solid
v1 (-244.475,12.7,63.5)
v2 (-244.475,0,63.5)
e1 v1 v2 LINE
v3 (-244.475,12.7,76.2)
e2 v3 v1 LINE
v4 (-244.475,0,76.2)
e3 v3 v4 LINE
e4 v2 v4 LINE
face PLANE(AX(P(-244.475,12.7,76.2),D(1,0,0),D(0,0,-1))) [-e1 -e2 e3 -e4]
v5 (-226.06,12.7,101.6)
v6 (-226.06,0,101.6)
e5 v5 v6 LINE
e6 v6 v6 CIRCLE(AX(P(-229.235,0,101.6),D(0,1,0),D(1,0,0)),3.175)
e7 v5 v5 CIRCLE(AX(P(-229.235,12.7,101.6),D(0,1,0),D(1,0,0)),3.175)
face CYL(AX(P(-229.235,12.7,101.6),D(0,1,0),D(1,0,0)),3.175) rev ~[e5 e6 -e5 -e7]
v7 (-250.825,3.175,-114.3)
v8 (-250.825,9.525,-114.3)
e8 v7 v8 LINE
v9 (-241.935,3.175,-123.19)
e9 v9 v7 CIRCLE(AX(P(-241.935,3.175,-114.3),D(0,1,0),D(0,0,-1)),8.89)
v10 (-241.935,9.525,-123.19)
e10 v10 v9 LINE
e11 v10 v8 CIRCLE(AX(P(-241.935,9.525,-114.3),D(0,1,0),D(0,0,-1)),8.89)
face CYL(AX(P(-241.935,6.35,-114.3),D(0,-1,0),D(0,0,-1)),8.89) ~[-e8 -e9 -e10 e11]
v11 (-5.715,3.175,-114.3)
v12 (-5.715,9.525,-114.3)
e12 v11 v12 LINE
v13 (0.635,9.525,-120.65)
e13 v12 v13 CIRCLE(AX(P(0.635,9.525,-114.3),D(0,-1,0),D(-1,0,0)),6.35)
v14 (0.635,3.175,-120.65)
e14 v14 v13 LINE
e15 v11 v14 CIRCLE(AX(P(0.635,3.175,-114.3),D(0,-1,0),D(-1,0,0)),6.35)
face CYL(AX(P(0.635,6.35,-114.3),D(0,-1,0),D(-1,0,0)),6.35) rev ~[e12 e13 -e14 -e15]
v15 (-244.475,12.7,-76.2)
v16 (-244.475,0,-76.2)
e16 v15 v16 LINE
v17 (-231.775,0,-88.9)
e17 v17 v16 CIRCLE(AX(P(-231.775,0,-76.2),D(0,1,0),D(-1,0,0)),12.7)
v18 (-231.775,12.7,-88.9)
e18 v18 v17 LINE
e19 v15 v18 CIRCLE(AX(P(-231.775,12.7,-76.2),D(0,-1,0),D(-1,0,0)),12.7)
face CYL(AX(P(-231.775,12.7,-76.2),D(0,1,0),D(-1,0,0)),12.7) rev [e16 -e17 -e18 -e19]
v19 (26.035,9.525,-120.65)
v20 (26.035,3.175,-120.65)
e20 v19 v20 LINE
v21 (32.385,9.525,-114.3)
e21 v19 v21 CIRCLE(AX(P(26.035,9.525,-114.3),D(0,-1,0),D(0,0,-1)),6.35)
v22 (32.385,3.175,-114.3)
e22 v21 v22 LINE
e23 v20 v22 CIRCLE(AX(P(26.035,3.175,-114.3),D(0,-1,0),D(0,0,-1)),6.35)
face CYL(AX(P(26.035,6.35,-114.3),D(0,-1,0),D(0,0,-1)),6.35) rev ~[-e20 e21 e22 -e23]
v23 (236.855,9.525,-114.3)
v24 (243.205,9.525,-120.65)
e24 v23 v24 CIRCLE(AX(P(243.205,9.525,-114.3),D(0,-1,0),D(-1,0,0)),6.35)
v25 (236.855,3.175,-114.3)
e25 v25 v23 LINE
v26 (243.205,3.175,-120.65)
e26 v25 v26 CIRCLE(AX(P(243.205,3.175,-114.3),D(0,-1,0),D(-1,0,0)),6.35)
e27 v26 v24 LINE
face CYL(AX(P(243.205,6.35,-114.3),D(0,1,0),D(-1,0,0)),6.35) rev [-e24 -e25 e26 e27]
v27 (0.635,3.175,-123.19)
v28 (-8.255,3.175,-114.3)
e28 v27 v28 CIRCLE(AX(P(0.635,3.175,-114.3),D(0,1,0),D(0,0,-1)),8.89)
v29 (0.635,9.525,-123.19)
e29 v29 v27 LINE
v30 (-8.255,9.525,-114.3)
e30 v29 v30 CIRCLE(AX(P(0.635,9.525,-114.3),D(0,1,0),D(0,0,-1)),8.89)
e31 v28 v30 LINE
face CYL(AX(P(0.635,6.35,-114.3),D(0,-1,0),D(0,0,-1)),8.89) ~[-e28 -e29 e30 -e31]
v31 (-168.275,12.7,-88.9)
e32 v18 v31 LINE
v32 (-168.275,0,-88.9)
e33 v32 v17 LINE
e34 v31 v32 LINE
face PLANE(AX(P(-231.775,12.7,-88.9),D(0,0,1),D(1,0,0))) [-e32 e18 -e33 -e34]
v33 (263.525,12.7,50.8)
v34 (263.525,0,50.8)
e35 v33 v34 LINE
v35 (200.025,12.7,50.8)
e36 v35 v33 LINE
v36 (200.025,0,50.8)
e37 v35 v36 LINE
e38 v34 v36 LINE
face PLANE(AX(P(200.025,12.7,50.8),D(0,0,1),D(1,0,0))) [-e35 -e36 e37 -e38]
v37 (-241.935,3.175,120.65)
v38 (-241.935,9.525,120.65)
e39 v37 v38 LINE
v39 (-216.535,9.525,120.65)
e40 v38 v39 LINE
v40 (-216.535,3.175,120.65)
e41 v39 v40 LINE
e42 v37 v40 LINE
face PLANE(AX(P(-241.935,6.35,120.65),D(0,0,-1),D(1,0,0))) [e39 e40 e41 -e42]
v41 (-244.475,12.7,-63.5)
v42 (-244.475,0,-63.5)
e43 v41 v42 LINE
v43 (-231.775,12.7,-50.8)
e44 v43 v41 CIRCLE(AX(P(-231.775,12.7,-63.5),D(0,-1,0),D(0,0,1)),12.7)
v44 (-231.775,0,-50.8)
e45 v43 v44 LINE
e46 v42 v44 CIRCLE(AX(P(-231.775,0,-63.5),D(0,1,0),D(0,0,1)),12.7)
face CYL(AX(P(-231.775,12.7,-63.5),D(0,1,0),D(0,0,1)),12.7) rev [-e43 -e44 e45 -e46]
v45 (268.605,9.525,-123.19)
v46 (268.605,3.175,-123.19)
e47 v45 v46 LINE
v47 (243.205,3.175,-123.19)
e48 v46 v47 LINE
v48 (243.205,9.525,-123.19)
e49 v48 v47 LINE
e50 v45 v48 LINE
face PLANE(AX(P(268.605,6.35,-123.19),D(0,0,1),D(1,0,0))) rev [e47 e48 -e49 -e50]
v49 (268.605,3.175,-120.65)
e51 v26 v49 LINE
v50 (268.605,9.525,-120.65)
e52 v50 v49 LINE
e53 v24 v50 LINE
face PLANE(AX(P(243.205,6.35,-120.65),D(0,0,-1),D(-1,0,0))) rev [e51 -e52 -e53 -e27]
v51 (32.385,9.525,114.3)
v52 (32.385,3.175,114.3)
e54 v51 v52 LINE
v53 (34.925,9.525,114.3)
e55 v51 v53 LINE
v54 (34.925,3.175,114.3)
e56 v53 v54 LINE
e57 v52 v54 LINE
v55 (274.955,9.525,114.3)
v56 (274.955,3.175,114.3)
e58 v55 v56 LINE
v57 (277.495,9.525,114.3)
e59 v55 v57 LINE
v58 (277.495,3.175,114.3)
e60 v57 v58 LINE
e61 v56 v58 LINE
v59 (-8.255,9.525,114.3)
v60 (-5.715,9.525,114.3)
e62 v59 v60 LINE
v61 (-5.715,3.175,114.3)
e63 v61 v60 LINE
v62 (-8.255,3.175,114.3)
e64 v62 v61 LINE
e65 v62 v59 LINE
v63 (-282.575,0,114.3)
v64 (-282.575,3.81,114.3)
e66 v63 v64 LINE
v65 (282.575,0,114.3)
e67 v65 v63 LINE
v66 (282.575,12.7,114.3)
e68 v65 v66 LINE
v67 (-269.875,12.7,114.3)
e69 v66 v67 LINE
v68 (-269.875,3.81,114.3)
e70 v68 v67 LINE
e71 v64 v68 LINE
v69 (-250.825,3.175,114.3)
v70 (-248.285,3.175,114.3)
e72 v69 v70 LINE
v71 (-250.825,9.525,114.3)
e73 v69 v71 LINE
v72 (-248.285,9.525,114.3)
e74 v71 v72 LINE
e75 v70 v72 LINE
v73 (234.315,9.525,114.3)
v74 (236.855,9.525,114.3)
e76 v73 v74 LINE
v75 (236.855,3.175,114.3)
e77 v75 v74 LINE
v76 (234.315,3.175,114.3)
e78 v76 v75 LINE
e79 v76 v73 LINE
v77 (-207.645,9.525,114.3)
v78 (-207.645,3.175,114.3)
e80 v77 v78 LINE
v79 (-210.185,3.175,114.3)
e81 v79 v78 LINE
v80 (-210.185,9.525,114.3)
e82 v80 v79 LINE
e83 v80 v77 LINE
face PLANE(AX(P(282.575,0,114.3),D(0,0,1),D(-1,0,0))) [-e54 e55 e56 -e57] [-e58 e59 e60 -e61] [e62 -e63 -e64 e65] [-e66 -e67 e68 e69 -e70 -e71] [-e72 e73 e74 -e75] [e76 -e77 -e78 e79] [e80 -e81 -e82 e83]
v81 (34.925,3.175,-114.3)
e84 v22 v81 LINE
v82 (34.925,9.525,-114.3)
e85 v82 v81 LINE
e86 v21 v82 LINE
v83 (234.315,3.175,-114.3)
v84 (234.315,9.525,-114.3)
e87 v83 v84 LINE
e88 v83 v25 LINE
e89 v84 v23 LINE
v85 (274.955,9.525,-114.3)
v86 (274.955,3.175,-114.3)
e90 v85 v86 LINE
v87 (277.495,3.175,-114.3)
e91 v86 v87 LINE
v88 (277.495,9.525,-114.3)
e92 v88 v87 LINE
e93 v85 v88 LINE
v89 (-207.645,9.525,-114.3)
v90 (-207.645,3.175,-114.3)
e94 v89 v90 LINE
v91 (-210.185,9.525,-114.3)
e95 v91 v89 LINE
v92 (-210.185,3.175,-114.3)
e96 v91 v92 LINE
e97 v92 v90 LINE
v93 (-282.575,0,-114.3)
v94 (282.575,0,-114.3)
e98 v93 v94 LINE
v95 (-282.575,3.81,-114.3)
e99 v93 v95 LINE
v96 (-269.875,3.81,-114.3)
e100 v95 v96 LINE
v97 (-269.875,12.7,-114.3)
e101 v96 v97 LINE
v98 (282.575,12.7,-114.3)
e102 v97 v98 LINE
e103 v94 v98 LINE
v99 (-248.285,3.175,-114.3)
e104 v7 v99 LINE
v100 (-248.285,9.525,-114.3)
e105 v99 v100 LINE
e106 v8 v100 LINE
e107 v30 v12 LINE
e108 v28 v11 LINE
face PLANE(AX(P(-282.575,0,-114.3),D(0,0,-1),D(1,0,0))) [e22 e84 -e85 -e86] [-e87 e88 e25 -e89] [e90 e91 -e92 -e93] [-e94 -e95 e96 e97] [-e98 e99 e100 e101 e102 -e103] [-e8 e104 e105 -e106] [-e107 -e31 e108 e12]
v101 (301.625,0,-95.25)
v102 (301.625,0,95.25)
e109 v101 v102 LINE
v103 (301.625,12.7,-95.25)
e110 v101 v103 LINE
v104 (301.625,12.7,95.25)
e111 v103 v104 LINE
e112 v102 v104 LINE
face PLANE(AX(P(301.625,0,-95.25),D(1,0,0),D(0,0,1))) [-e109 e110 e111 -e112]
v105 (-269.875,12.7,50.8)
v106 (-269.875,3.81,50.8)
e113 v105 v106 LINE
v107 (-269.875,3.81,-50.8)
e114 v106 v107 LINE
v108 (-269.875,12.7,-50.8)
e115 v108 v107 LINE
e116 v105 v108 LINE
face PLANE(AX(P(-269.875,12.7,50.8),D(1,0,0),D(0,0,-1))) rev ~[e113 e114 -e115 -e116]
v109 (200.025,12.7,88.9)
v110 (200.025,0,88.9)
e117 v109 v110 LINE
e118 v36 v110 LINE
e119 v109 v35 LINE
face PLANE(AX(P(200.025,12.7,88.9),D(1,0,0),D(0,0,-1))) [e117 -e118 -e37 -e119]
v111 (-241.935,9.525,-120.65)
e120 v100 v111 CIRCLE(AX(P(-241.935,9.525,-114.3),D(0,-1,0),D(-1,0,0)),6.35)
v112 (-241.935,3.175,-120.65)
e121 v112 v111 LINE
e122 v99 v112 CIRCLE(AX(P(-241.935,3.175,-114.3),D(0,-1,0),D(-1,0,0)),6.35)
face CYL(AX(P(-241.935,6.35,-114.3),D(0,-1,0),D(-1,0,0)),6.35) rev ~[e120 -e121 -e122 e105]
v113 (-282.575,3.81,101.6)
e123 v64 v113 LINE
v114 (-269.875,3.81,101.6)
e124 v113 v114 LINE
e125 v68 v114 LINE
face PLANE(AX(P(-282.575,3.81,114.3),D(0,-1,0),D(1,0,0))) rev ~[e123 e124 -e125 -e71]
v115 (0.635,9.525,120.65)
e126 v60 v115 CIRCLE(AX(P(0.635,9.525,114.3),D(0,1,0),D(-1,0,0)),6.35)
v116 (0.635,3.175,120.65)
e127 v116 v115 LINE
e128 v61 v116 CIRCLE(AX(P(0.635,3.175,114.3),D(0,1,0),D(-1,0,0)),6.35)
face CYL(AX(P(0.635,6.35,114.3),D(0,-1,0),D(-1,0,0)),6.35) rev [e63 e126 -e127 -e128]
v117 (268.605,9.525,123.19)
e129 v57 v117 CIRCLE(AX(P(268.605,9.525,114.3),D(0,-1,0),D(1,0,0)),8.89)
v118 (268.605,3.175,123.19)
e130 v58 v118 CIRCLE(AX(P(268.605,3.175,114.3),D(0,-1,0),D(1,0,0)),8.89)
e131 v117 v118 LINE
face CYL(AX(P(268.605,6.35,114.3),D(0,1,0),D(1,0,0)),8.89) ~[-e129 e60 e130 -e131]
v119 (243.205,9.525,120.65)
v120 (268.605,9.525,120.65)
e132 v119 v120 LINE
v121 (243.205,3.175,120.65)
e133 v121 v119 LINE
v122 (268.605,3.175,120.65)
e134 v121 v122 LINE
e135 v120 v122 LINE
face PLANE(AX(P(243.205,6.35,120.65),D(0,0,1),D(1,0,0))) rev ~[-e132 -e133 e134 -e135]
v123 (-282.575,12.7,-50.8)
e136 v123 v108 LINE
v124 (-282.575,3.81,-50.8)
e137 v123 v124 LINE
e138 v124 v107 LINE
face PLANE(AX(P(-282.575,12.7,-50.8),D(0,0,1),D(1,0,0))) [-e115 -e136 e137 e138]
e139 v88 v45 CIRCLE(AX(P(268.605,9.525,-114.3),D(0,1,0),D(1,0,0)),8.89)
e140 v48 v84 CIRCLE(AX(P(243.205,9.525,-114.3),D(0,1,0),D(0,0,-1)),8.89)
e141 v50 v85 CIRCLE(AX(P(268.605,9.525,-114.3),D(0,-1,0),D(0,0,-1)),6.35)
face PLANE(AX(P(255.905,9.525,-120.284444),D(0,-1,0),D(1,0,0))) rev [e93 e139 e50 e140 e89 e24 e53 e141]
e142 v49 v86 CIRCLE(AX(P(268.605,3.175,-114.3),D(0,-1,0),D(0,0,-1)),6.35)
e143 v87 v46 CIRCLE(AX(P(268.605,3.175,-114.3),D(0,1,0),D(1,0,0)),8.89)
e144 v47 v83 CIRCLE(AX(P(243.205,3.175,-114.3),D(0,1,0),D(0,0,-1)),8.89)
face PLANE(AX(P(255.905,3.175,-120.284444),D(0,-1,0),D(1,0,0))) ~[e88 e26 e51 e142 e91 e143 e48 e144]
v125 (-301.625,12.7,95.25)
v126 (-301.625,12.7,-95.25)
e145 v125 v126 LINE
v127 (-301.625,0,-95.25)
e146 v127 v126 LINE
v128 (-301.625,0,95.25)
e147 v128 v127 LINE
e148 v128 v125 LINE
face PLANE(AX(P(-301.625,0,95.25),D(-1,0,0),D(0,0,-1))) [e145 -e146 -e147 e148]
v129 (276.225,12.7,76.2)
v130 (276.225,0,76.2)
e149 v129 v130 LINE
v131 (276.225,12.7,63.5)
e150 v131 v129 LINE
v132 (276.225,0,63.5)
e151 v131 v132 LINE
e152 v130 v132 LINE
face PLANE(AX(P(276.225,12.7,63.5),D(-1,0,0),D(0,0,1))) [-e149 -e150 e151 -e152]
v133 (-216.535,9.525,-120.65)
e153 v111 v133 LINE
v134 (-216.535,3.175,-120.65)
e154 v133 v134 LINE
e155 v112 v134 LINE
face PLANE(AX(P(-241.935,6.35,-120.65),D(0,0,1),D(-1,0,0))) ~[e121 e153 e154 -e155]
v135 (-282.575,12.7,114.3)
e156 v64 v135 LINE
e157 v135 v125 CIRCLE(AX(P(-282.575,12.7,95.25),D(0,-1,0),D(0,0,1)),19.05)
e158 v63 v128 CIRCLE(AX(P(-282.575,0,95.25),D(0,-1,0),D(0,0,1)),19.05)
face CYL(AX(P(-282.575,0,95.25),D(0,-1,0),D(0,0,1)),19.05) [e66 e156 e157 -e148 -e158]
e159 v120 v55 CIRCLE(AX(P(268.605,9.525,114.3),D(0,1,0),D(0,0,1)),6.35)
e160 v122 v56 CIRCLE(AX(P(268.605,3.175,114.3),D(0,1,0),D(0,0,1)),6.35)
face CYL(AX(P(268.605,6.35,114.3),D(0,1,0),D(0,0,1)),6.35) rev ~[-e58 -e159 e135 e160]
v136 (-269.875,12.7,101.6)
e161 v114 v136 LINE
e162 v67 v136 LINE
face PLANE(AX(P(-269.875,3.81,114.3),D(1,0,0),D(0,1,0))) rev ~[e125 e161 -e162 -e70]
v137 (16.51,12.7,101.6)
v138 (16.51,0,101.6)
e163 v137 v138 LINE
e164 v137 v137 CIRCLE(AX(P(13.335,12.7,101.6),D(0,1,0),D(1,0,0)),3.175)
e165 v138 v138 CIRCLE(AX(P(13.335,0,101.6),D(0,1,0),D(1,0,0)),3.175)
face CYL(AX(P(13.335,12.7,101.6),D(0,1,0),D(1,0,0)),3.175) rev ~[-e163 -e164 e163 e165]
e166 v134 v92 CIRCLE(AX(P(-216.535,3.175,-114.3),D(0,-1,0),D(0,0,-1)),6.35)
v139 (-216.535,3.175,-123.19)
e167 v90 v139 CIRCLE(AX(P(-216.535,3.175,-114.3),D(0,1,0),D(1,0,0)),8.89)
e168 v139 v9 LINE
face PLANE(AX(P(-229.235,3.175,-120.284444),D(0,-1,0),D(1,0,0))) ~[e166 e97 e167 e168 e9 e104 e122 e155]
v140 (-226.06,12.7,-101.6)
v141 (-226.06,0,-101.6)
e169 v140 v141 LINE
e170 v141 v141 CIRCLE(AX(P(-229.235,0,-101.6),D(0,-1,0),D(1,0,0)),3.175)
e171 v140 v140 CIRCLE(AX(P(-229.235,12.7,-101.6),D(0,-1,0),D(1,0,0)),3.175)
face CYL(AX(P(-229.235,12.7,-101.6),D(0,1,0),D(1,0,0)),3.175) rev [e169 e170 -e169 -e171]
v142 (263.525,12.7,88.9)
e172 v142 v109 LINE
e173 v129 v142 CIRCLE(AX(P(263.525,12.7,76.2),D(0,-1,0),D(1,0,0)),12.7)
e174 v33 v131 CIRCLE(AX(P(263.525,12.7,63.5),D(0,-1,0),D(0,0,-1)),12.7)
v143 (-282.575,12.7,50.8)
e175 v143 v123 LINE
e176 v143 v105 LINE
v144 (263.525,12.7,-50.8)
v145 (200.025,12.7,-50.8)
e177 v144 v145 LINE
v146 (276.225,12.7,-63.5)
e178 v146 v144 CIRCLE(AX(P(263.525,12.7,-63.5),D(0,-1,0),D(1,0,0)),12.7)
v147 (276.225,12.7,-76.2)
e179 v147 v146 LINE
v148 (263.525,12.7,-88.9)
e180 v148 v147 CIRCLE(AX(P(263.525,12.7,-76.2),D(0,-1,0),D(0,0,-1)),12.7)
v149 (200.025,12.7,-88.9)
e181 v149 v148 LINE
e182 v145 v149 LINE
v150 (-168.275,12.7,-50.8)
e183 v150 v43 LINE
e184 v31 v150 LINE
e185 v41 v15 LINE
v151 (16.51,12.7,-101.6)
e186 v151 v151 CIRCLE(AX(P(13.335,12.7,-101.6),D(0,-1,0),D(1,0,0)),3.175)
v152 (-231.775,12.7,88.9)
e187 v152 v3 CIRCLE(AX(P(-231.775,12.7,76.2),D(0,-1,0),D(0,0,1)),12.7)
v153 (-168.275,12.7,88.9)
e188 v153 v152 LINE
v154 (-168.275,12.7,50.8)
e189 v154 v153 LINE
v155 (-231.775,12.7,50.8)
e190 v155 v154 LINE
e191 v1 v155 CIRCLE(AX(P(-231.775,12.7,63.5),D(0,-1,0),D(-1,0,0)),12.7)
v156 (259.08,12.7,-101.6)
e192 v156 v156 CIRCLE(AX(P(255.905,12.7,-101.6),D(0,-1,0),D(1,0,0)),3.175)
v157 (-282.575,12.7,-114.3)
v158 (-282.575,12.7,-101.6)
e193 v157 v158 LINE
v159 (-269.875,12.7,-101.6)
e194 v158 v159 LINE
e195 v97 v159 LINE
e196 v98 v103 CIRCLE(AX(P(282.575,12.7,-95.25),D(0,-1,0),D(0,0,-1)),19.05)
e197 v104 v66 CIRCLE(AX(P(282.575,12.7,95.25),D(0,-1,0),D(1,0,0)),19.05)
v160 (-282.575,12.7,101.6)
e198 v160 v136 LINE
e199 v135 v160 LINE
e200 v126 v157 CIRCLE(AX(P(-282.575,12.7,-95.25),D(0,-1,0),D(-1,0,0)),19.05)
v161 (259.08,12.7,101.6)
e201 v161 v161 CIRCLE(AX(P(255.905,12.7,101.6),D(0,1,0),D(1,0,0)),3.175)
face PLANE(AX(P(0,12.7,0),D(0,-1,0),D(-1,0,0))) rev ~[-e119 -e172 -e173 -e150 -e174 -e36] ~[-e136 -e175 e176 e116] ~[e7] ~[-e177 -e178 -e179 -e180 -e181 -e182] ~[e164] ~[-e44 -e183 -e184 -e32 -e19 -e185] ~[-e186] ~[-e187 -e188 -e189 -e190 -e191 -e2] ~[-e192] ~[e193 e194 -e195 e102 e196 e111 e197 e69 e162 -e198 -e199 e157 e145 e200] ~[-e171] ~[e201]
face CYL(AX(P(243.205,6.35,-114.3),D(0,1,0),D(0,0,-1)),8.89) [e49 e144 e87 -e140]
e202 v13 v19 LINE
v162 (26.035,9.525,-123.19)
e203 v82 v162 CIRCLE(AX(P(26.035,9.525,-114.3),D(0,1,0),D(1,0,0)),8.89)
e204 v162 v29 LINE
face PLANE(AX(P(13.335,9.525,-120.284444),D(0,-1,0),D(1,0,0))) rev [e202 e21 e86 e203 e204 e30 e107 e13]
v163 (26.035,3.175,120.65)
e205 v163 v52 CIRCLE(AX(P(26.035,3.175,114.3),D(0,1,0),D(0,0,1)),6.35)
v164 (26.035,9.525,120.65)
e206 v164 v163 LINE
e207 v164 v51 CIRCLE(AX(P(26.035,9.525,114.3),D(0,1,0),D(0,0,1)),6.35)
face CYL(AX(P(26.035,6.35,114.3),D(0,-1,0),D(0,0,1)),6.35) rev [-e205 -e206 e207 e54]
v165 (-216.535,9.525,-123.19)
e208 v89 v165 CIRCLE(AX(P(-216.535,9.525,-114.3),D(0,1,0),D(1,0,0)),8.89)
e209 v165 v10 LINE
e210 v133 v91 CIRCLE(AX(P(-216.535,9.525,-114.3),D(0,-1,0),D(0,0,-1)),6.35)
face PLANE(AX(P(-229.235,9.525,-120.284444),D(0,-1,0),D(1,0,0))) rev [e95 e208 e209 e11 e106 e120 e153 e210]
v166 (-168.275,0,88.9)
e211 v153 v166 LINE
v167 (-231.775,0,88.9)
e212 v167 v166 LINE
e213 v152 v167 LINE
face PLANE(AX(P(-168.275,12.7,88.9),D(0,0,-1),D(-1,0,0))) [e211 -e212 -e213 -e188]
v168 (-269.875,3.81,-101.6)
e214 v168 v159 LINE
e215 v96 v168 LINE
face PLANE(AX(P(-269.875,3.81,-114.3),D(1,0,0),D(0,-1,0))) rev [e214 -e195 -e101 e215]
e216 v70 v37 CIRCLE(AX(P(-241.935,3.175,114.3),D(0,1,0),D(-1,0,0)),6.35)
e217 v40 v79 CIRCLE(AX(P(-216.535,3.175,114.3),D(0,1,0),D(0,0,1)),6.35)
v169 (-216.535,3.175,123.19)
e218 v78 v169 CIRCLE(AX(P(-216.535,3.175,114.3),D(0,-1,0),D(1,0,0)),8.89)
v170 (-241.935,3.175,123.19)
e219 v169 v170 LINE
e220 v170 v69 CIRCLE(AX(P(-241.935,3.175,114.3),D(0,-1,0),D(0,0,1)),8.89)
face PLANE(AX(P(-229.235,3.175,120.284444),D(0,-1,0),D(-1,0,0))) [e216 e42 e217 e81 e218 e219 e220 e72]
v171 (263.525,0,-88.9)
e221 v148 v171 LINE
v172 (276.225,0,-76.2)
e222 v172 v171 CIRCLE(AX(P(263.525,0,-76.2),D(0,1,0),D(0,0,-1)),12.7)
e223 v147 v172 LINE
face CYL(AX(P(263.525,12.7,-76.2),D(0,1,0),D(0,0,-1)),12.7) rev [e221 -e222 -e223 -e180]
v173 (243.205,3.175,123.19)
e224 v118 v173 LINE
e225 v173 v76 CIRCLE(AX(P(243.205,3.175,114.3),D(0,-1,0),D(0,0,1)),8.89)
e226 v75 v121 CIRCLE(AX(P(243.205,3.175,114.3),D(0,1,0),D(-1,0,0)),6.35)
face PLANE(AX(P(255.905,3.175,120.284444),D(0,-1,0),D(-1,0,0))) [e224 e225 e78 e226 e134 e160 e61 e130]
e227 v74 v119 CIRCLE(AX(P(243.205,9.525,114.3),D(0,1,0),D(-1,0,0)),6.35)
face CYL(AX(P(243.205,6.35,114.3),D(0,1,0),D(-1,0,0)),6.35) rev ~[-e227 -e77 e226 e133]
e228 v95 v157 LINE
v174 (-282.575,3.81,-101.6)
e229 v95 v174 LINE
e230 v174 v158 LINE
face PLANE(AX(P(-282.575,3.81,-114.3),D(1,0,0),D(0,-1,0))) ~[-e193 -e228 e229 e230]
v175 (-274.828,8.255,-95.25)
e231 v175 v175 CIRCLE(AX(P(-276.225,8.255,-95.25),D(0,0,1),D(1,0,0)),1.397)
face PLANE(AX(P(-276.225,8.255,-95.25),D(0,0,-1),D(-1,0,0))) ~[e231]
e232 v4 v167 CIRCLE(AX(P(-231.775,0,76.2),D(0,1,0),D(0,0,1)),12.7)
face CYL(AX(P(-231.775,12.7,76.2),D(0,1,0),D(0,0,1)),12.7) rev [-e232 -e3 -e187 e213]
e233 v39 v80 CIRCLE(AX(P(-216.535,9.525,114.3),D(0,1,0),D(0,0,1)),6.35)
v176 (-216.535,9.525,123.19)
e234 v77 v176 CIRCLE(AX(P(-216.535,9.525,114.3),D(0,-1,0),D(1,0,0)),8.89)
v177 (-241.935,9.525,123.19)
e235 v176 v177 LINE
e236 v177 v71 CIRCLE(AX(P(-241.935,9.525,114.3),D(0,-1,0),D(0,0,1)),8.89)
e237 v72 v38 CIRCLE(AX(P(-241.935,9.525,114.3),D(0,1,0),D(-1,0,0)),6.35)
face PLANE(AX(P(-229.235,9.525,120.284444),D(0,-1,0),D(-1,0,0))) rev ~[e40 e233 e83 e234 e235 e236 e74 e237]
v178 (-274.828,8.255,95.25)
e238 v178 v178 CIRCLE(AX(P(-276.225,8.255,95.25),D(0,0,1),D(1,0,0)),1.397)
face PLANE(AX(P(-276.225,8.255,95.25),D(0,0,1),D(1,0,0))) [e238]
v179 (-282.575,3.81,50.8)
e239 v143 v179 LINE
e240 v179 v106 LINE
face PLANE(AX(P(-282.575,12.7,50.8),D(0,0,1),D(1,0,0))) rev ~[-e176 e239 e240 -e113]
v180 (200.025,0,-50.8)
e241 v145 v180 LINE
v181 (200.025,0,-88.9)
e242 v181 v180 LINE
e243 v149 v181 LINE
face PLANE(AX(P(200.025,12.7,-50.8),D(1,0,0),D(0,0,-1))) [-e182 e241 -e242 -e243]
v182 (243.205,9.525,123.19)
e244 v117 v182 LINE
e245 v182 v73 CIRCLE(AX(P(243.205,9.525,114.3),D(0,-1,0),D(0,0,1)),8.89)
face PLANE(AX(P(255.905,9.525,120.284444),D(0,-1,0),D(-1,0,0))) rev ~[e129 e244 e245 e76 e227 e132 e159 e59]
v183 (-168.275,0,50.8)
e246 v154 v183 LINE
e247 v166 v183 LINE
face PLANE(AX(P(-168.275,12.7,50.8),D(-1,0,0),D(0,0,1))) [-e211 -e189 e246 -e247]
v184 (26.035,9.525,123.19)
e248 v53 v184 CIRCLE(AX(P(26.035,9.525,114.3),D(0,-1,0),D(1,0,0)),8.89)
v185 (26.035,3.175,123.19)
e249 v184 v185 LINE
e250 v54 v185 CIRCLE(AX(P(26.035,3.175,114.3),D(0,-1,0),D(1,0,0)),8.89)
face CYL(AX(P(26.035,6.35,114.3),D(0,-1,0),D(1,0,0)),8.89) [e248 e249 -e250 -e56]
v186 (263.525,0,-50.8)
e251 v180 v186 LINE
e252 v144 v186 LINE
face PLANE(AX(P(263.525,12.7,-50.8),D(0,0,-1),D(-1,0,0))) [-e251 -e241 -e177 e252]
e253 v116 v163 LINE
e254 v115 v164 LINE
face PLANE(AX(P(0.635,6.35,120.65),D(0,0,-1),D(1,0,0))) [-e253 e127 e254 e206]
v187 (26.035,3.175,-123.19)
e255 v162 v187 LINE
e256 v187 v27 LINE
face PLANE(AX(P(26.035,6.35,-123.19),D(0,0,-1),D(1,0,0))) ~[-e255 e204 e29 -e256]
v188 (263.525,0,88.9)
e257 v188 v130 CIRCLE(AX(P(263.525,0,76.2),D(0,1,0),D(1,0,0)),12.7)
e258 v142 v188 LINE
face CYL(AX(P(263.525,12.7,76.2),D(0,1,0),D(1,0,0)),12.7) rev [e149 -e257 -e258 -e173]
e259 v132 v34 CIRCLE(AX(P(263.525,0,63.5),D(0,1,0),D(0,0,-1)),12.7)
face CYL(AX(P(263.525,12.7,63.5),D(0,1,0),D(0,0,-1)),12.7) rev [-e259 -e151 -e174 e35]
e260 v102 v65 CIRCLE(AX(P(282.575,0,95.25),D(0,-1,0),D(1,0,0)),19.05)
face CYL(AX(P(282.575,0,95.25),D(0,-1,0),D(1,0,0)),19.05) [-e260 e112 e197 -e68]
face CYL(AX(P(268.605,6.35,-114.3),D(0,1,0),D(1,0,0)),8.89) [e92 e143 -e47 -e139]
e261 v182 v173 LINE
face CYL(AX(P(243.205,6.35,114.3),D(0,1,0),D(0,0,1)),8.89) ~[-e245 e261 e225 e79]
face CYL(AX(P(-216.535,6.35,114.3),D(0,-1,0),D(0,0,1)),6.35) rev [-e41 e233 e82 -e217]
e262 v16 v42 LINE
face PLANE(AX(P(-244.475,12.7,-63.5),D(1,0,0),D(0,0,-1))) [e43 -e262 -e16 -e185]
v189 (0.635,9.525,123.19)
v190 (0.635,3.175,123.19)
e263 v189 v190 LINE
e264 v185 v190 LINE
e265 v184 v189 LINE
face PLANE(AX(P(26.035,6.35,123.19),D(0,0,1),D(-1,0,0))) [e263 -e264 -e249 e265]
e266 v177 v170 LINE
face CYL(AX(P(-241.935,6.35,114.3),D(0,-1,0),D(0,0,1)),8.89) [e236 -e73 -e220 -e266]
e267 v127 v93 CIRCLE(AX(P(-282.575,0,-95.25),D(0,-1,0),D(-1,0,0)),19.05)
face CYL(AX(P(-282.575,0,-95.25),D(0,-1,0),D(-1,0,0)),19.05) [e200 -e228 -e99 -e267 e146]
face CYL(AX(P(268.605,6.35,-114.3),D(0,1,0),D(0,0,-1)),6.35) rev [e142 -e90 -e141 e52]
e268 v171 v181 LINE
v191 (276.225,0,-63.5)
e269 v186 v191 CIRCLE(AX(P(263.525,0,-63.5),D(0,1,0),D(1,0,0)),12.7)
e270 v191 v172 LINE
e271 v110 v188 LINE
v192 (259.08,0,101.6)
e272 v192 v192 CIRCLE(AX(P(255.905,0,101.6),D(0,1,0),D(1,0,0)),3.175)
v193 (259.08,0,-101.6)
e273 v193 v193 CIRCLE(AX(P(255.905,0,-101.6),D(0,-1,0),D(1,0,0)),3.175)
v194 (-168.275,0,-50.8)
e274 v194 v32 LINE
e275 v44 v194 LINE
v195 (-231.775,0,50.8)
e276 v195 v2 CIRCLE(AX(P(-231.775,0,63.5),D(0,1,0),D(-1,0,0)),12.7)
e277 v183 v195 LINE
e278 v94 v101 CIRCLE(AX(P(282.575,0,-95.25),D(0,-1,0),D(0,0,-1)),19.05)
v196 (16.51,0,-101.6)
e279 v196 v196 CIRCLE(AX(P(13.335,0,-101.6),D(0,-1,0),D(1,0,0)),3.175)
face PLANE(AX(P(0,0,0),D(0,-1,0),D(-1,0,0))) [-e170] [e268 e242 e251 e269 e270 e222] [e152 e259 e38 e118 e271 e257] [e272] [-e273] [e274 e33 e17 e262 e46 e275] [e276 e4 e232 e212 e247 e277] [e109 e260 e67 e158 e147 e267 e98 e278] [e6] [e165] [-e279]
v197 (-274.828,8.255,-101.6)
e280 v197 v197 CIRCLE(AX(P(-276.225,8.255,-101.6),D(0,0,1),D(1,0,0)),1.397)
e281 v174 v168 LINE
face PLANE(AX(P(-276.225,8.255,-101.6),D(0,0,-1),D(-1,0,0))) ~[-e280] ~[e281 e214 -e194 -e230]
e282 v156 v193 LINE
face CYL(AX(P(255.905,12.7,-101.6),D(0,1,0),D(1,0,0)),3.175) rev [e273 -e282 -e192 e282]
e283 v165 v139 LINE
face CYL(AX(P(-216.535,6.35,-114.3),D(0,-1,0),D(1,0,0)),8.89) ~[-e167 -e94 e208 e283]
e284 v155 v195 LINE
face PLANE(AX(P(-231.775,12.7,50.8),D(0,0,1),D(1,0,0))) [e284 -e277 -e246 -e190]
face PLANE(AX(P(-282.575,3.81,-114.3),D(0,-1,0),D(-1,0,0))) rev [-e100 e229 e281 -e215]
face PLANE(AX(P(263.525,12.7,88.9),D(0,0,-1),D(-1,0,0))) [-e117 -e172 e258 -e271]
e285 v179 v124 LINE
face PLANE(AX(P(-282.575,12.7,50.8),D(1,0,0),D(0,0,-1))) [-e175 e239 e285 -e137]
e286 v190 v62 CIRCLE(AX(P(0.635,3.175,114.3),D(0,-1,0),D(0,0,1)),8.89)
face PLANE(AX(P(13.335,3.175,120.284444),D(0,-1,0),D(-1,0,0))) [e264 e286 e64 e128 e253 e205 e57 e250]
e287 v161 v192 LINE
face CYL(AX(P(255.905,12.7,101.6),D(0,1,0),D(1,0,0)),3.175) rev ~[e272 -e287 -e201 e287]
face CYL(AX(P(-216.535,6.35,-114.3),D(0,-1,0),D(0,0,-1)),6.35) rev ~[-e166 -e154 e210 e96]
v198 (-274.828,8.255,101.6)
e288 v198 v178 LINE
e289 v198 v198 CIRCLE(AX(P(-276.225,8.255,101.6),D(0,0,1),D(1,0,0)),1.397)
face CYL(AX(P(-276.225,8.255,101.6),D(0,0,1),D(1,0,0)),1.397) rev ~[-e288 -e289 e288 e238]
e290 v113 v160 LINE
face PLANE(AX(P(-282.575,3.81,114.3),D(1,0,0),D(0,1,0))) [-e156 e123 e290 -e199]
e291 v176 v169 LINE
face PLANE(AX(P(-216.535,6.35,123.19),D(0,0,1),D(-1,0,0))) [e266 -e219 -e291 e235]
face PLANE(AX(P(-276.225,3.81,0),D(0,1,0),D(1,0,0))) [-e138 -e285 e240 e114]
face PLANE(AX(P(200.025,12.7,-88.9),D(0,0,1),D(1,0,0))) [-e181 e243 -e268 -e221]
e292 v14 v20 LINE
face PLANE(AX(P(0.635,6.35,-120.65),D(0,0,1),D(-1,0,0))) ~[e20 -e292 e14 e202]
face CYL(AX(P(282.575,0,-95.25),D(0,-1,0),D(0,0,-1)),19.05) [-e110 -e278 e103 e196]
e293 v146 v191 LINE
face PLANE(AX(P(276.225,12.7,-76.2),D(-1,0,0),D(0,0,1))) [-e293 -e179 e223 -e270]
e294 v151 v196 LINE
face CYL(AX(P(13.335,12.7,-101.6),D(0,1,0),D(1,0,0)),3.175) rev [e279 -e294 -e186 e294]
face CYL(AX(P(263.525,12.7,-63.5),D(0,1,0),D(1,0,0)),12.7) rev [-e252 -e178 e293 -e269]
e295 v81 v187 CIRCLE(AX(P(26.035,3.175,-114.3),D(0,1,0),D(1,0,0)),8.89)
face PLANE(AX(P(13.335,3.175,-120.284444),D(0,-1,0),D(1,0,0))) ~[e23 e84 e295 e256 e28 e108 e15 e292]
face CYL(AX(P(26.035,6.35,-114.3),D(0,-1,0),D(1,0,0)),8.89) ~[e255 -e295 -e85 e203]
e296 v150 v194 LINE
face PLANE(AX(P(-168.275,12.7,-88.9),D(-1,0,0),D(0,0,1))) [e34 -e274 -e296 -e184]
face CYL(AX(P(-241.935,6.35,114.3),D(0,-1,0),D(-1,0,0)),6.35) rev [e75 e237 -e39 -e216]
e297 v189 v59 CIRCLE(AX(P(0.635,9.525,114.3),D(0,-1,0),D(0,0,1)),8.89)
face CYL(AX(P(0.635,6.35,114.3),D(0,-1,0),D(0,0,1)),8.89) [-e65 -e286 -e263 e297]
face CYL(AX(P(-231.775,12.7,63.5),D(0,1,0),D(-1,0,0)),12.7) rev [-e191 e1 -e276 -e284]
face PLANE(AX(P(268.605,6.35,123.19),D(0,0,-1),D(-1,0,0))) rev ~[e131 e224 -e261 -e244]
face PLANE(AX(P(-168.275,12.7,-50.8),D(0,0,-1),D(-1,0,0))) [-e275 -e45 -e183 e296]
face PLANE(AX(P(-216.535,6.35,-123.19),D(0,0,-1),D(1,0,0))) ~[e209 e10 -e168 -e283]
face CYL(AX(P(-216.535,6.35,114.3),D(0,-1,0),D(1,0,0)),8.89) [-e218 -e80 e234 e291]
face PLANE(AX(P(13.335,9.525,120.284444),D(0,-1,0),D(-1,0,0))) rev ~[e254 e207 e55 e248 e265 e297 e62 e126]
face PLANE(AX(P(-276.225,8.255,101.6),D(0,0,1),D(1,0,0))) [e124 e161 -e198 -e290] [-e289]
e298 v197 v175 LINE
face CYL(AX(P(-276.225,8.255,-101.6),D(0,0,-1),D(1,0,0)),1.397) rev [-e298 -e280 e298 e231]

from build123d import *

# Parameters (mm, degrees)
BOSS_EXTRUDE1_DEPTH     = 12.7
BACKREST_BRACKET_SLOT_W = 12.7
BACKREST_BRACKET_SLOT_H = 8.89
CUT_EXTRUDE3_DEPTH      = 12.7
BACKREST_SCREW_HOLE_R   = 1.397
CUT_EXTRUDE4_DEPTH      = 6.35
CUT_EXTRUDE5_DEPTH      = 25.4
BOSS_EXTRUDE2_DEPTH     = 3.175
SKETCH37_W              = 12.7
SKETCH37_H              = 101.6
CUT_EXTRUDE7_DEPTH      = 8.89
SKETCH38_R              = 3.175
CUT_EXTRUDE8_DEPTH      = 12.7


with BuildPart() as part:
    # Main Body → Boss-Extrude1 (new body)
    with BuildSketch(Plane(origin=(0, 0, 0), x_dir=(1, 0, 0), z_dir=(0, 1, 0))):
        with BuildLine():
            Line((-301.625, -95.25), (-301.625, 95.25))
            ThreePointArc((-301.625, 95.25), (-296.045384182, 108.720384182), (-282.575, 114.3))
            Line((-282.575, 114.3), (282.575, 114.3))
            ThreePointArc((282.575, 114.3), (296.045384182, 108.720384182), (301.625, 95.25))
            Line((301.625, 95.25), (301.625, -95.25))
            ThreePointArc((301.625, -95.25), (296.045384182, -108.720384182), (282.575, -114.3))
            Line((282.575, -114.3), (-282.575, -114.3))
            ThreePointArc((-282.575, -114.3), (-296.045384182, -108.720384182), (-301.625, -95.25))
        make_face()
    extrude(amount=BOSS_EXTRUDE1_DEPTH)

    # Backrest Bracket Slot → Cut-Extrude3 (cut)
    with BuildSketch(Plane.XY.offset(114.3)):
        with Locations((-276.225, 8.255)):
            Rectangle(BACKREST_BRACKET_SLOT_W, BACKREST_BRACKET_SLOT_H)
    cut_extrude3 = extrude(amount=-CUT_EXTRUDE3_DEPTH, mode=Mode.SUBTRACT)

    # Backrest Screw Hole → Cut-Extrude4 (cut)
    with BuildSketch(Plane.XY.offset(101.6)):
        with Locations((-276.225, 8.255)):
            Circle(BACKREST_SCREW_HOLE_R)
    cut_extrude4 = extrude(amount=-CUT_EXTRUDE4_DEPTH, mode=Mode.SUBTRACT)

    # Mirror1: Cut-Extrude3, Cut-Extrude4 across plane
    add(cut_extrude3.mirror(Plane.XY), mode=Mode.SUBTRACT)
    add(cut_extrude4.mirror(Plane.XY), mode=Mode.SUBTRACT)

    # Couch Foot Slits → Cut-Extrude5 (cut)
    with BuildSketch(Plane(origin=(0, 12.7, 0), x_dir=(1, 0, 0), z_dir=(0, 1, 0))):
        with BuildLine():
            Line((-231.775, 88.9), (-168.275, 88.9))
            Line((-168.275, 88.9), (-168.275, 50.8))
            Line((-168.275, 50.8), (-231.775, 50.8))
            ThreePointArc((-231.775, 50.8), (-240.755256121, 54.519743879), (-244.475, 63.5))
            Line((-244.475, 63.5), (-244.475, 76.2))
            ThreePointArc((-244.475, 76.2), (-240.755256121, 85.180256121), (-231.775, 88.9))
        make_face()
        with BuildLine():
            Line((276.225, 76.2), (276.225, 63.5))
            ThreePointArc((276.225, 63.5), (272.505256121, 54.519743879), (263.525, 50.8))
            Line((263.525, 50.8), (200.025, 50.8))
            Line((200.025, 50.8), (200.025, 88.9))
            Line((200.025, 88.9), (263.525, 88.9))
            ThreePointArc((263.525, 88.9), (272.505256121, 85.180256121), (276.225, 76.2))
        make_face()
        with BuildLine():
            Line((-231.775, -50.8), (-168.275, -50.8))
            Line((-168.275, -50.8), (-168.275, -88.9))
            Line((-168.275, -88.9), (-231.775, -88.9))
            ThreePointArc((-231.775, -88.9), (-240.755256121, -85.180256121), (-244.475, -76.2))
            Line((-244.475, -76.2), (-244.475, -63.5))
            ThreePointArc((-244.475, -63.5), (-240.755256121, -54.519743879), (-231.775, -50.8))
        make_face()
        with BuildLine():
            Line((276.225, -63.5), (276.225, -76.2))
            ThreePointArc((276.225, -76.2), (272.505256121, -85.180256121), (263.525, -88.9))
            Line((263.525, -88.9), (200.025, -88.9))
            Line((200.025, -88.9), (200.025, -50.8))
            Line((200.025, -50.8), (263.525, -50.8))
            ThreePointArc((263.525, -50.8), (272.505256121, -54.519743879), (276.225, -63.5))
        make_face()
    extrude(amount=-CUT_EXTRUDE5_DEPTH, mode=Mode.SUBTRACT)

    # Sketch24 → Boss-Extrude2 (add, symmetric)
    with BuildSketch(Plane(origin=(0, 6.35, 0), x_dir=(1, 0, 0), z_dir=(0, 1, 0))):
        with BuildLine():
            Line((0.635, -120.65), (26.035, -120.65))
            ThreePointArc((26.035, -120.65), (30.525128061, -118.790128061), (32.385, -114.3))
            Line((32.385, -114.3), (34.925, -114.3))
            ThreePointArc((34.925, -114.3), (32.321179285, -120.586179285), (26.035, -123.19))
            Line((26.035, -123.19), (0.635, -123.19))
            ThreePointArc((0.635, -123.19), (-5.651179285, -120.586179285), (-8.255, -114.3))
            Line((-8.255, -114.3), (-5.715, -114.3))
            ThreePointArc((-5.715, -114.3), (-3.855128061, -118.790128061), (0.635, -120.65))
        make_face()
        with BuildLine():
            Line((-241.935, -120.65), (-216.535, -120.65))
            ThreePointArc((-216.535, -120.65), (-212.044871939, -118.790128061), (-210.185, -114.3))
            Line((-210.185, -114.3), (-207.645, -114.3))
            ThreePointArc((-207.645, -114.3), (-210.248820715, -120.586179285), (-216.535, -123.19))
            Line((-216.535, -123.19), (-241.935, -123.19))
            ThreePointArc((-241.935, -123.19), (-248.221179285, -120.586179285), (-250.825, -114.3))
            Line((-250.825, -114.3), (-248.285, -114.3))
            ThreePointArc((-248.285, -114.3), (-246.425128061, -118.790128061), (-241.935, -120.65))
        make_face()
        with BuildLine():
            Line((243.205, -120.65), (268.605, -120.65))
            ThreePointArc((268.605, -120.65), (273.095128061, -118.790128061), (274.955, -114.3))
            Line((274.955, -114.3), (277.495, -114.3))
            ThreePointArc((277.495, -114.3), (274.891179285, -120.586179285), (268.605, -123.19))
            Line((268.605, -123.19), (243.205, -123.19))
            ThreePointArc((243.205, -123.19), (236.918820715, -120.586179285), (234.315, -114.3))
            Line((234.315, -114.3), (236.855, -114.3))
            ThreePointArc((236.855, -114.3), (238.714871939, -118.790128061), (243.205, -120.65))
        make_face()
    boss_extrude2 = extrude(amount=BOSS_EXTRUDE2_DEPTH, both=True)

    # Mirror2: Boss-Extrude2 across plane
    add(boss_extrude2.mirror(Plane.XY))

    # Sketch37 → Cut-Extrude7 (cut)
    with BuildSketch(Plane(origin=(0, 12.7, 0), x_dir=(1, 0, 0), z_dir=(0, 1, 0))):
        with Locations((-276.225, 0)):
            Rectangle(SKETCH37_W, SKETCH37_H)
    extrude(amount=-CUT_EXTRUDE7_DEPTH, mode=Mode.SUBTRACT)

    # Sketch38 → Cut-Extrude8 (cut)
    with BuildSketch(Plane(origin=(0, 12.7, 0), x_dir=(1, 0, 0), z_dir=(0, 1, 0))):
        with Locations((-229.235, -101.6)):
            Circle(SKETCH38_R)
        with Locations((13.335, -101.6)):
            Circle(SKETCH38_R)
        with Locations((255.905, -101.6)):
            Circle(SKETCH38_R)
    cut_extrude8 = extrude(amount=-CUT_EXTRUDE8_DEPTH, mode=Mode.SUBTRACT)

    # Mirror3: Cut-Extrude8 across plane
    add(cut_extrude8.mirror(Plane.XY), mode=Mode.SUBTRACT)


solid = part.part
